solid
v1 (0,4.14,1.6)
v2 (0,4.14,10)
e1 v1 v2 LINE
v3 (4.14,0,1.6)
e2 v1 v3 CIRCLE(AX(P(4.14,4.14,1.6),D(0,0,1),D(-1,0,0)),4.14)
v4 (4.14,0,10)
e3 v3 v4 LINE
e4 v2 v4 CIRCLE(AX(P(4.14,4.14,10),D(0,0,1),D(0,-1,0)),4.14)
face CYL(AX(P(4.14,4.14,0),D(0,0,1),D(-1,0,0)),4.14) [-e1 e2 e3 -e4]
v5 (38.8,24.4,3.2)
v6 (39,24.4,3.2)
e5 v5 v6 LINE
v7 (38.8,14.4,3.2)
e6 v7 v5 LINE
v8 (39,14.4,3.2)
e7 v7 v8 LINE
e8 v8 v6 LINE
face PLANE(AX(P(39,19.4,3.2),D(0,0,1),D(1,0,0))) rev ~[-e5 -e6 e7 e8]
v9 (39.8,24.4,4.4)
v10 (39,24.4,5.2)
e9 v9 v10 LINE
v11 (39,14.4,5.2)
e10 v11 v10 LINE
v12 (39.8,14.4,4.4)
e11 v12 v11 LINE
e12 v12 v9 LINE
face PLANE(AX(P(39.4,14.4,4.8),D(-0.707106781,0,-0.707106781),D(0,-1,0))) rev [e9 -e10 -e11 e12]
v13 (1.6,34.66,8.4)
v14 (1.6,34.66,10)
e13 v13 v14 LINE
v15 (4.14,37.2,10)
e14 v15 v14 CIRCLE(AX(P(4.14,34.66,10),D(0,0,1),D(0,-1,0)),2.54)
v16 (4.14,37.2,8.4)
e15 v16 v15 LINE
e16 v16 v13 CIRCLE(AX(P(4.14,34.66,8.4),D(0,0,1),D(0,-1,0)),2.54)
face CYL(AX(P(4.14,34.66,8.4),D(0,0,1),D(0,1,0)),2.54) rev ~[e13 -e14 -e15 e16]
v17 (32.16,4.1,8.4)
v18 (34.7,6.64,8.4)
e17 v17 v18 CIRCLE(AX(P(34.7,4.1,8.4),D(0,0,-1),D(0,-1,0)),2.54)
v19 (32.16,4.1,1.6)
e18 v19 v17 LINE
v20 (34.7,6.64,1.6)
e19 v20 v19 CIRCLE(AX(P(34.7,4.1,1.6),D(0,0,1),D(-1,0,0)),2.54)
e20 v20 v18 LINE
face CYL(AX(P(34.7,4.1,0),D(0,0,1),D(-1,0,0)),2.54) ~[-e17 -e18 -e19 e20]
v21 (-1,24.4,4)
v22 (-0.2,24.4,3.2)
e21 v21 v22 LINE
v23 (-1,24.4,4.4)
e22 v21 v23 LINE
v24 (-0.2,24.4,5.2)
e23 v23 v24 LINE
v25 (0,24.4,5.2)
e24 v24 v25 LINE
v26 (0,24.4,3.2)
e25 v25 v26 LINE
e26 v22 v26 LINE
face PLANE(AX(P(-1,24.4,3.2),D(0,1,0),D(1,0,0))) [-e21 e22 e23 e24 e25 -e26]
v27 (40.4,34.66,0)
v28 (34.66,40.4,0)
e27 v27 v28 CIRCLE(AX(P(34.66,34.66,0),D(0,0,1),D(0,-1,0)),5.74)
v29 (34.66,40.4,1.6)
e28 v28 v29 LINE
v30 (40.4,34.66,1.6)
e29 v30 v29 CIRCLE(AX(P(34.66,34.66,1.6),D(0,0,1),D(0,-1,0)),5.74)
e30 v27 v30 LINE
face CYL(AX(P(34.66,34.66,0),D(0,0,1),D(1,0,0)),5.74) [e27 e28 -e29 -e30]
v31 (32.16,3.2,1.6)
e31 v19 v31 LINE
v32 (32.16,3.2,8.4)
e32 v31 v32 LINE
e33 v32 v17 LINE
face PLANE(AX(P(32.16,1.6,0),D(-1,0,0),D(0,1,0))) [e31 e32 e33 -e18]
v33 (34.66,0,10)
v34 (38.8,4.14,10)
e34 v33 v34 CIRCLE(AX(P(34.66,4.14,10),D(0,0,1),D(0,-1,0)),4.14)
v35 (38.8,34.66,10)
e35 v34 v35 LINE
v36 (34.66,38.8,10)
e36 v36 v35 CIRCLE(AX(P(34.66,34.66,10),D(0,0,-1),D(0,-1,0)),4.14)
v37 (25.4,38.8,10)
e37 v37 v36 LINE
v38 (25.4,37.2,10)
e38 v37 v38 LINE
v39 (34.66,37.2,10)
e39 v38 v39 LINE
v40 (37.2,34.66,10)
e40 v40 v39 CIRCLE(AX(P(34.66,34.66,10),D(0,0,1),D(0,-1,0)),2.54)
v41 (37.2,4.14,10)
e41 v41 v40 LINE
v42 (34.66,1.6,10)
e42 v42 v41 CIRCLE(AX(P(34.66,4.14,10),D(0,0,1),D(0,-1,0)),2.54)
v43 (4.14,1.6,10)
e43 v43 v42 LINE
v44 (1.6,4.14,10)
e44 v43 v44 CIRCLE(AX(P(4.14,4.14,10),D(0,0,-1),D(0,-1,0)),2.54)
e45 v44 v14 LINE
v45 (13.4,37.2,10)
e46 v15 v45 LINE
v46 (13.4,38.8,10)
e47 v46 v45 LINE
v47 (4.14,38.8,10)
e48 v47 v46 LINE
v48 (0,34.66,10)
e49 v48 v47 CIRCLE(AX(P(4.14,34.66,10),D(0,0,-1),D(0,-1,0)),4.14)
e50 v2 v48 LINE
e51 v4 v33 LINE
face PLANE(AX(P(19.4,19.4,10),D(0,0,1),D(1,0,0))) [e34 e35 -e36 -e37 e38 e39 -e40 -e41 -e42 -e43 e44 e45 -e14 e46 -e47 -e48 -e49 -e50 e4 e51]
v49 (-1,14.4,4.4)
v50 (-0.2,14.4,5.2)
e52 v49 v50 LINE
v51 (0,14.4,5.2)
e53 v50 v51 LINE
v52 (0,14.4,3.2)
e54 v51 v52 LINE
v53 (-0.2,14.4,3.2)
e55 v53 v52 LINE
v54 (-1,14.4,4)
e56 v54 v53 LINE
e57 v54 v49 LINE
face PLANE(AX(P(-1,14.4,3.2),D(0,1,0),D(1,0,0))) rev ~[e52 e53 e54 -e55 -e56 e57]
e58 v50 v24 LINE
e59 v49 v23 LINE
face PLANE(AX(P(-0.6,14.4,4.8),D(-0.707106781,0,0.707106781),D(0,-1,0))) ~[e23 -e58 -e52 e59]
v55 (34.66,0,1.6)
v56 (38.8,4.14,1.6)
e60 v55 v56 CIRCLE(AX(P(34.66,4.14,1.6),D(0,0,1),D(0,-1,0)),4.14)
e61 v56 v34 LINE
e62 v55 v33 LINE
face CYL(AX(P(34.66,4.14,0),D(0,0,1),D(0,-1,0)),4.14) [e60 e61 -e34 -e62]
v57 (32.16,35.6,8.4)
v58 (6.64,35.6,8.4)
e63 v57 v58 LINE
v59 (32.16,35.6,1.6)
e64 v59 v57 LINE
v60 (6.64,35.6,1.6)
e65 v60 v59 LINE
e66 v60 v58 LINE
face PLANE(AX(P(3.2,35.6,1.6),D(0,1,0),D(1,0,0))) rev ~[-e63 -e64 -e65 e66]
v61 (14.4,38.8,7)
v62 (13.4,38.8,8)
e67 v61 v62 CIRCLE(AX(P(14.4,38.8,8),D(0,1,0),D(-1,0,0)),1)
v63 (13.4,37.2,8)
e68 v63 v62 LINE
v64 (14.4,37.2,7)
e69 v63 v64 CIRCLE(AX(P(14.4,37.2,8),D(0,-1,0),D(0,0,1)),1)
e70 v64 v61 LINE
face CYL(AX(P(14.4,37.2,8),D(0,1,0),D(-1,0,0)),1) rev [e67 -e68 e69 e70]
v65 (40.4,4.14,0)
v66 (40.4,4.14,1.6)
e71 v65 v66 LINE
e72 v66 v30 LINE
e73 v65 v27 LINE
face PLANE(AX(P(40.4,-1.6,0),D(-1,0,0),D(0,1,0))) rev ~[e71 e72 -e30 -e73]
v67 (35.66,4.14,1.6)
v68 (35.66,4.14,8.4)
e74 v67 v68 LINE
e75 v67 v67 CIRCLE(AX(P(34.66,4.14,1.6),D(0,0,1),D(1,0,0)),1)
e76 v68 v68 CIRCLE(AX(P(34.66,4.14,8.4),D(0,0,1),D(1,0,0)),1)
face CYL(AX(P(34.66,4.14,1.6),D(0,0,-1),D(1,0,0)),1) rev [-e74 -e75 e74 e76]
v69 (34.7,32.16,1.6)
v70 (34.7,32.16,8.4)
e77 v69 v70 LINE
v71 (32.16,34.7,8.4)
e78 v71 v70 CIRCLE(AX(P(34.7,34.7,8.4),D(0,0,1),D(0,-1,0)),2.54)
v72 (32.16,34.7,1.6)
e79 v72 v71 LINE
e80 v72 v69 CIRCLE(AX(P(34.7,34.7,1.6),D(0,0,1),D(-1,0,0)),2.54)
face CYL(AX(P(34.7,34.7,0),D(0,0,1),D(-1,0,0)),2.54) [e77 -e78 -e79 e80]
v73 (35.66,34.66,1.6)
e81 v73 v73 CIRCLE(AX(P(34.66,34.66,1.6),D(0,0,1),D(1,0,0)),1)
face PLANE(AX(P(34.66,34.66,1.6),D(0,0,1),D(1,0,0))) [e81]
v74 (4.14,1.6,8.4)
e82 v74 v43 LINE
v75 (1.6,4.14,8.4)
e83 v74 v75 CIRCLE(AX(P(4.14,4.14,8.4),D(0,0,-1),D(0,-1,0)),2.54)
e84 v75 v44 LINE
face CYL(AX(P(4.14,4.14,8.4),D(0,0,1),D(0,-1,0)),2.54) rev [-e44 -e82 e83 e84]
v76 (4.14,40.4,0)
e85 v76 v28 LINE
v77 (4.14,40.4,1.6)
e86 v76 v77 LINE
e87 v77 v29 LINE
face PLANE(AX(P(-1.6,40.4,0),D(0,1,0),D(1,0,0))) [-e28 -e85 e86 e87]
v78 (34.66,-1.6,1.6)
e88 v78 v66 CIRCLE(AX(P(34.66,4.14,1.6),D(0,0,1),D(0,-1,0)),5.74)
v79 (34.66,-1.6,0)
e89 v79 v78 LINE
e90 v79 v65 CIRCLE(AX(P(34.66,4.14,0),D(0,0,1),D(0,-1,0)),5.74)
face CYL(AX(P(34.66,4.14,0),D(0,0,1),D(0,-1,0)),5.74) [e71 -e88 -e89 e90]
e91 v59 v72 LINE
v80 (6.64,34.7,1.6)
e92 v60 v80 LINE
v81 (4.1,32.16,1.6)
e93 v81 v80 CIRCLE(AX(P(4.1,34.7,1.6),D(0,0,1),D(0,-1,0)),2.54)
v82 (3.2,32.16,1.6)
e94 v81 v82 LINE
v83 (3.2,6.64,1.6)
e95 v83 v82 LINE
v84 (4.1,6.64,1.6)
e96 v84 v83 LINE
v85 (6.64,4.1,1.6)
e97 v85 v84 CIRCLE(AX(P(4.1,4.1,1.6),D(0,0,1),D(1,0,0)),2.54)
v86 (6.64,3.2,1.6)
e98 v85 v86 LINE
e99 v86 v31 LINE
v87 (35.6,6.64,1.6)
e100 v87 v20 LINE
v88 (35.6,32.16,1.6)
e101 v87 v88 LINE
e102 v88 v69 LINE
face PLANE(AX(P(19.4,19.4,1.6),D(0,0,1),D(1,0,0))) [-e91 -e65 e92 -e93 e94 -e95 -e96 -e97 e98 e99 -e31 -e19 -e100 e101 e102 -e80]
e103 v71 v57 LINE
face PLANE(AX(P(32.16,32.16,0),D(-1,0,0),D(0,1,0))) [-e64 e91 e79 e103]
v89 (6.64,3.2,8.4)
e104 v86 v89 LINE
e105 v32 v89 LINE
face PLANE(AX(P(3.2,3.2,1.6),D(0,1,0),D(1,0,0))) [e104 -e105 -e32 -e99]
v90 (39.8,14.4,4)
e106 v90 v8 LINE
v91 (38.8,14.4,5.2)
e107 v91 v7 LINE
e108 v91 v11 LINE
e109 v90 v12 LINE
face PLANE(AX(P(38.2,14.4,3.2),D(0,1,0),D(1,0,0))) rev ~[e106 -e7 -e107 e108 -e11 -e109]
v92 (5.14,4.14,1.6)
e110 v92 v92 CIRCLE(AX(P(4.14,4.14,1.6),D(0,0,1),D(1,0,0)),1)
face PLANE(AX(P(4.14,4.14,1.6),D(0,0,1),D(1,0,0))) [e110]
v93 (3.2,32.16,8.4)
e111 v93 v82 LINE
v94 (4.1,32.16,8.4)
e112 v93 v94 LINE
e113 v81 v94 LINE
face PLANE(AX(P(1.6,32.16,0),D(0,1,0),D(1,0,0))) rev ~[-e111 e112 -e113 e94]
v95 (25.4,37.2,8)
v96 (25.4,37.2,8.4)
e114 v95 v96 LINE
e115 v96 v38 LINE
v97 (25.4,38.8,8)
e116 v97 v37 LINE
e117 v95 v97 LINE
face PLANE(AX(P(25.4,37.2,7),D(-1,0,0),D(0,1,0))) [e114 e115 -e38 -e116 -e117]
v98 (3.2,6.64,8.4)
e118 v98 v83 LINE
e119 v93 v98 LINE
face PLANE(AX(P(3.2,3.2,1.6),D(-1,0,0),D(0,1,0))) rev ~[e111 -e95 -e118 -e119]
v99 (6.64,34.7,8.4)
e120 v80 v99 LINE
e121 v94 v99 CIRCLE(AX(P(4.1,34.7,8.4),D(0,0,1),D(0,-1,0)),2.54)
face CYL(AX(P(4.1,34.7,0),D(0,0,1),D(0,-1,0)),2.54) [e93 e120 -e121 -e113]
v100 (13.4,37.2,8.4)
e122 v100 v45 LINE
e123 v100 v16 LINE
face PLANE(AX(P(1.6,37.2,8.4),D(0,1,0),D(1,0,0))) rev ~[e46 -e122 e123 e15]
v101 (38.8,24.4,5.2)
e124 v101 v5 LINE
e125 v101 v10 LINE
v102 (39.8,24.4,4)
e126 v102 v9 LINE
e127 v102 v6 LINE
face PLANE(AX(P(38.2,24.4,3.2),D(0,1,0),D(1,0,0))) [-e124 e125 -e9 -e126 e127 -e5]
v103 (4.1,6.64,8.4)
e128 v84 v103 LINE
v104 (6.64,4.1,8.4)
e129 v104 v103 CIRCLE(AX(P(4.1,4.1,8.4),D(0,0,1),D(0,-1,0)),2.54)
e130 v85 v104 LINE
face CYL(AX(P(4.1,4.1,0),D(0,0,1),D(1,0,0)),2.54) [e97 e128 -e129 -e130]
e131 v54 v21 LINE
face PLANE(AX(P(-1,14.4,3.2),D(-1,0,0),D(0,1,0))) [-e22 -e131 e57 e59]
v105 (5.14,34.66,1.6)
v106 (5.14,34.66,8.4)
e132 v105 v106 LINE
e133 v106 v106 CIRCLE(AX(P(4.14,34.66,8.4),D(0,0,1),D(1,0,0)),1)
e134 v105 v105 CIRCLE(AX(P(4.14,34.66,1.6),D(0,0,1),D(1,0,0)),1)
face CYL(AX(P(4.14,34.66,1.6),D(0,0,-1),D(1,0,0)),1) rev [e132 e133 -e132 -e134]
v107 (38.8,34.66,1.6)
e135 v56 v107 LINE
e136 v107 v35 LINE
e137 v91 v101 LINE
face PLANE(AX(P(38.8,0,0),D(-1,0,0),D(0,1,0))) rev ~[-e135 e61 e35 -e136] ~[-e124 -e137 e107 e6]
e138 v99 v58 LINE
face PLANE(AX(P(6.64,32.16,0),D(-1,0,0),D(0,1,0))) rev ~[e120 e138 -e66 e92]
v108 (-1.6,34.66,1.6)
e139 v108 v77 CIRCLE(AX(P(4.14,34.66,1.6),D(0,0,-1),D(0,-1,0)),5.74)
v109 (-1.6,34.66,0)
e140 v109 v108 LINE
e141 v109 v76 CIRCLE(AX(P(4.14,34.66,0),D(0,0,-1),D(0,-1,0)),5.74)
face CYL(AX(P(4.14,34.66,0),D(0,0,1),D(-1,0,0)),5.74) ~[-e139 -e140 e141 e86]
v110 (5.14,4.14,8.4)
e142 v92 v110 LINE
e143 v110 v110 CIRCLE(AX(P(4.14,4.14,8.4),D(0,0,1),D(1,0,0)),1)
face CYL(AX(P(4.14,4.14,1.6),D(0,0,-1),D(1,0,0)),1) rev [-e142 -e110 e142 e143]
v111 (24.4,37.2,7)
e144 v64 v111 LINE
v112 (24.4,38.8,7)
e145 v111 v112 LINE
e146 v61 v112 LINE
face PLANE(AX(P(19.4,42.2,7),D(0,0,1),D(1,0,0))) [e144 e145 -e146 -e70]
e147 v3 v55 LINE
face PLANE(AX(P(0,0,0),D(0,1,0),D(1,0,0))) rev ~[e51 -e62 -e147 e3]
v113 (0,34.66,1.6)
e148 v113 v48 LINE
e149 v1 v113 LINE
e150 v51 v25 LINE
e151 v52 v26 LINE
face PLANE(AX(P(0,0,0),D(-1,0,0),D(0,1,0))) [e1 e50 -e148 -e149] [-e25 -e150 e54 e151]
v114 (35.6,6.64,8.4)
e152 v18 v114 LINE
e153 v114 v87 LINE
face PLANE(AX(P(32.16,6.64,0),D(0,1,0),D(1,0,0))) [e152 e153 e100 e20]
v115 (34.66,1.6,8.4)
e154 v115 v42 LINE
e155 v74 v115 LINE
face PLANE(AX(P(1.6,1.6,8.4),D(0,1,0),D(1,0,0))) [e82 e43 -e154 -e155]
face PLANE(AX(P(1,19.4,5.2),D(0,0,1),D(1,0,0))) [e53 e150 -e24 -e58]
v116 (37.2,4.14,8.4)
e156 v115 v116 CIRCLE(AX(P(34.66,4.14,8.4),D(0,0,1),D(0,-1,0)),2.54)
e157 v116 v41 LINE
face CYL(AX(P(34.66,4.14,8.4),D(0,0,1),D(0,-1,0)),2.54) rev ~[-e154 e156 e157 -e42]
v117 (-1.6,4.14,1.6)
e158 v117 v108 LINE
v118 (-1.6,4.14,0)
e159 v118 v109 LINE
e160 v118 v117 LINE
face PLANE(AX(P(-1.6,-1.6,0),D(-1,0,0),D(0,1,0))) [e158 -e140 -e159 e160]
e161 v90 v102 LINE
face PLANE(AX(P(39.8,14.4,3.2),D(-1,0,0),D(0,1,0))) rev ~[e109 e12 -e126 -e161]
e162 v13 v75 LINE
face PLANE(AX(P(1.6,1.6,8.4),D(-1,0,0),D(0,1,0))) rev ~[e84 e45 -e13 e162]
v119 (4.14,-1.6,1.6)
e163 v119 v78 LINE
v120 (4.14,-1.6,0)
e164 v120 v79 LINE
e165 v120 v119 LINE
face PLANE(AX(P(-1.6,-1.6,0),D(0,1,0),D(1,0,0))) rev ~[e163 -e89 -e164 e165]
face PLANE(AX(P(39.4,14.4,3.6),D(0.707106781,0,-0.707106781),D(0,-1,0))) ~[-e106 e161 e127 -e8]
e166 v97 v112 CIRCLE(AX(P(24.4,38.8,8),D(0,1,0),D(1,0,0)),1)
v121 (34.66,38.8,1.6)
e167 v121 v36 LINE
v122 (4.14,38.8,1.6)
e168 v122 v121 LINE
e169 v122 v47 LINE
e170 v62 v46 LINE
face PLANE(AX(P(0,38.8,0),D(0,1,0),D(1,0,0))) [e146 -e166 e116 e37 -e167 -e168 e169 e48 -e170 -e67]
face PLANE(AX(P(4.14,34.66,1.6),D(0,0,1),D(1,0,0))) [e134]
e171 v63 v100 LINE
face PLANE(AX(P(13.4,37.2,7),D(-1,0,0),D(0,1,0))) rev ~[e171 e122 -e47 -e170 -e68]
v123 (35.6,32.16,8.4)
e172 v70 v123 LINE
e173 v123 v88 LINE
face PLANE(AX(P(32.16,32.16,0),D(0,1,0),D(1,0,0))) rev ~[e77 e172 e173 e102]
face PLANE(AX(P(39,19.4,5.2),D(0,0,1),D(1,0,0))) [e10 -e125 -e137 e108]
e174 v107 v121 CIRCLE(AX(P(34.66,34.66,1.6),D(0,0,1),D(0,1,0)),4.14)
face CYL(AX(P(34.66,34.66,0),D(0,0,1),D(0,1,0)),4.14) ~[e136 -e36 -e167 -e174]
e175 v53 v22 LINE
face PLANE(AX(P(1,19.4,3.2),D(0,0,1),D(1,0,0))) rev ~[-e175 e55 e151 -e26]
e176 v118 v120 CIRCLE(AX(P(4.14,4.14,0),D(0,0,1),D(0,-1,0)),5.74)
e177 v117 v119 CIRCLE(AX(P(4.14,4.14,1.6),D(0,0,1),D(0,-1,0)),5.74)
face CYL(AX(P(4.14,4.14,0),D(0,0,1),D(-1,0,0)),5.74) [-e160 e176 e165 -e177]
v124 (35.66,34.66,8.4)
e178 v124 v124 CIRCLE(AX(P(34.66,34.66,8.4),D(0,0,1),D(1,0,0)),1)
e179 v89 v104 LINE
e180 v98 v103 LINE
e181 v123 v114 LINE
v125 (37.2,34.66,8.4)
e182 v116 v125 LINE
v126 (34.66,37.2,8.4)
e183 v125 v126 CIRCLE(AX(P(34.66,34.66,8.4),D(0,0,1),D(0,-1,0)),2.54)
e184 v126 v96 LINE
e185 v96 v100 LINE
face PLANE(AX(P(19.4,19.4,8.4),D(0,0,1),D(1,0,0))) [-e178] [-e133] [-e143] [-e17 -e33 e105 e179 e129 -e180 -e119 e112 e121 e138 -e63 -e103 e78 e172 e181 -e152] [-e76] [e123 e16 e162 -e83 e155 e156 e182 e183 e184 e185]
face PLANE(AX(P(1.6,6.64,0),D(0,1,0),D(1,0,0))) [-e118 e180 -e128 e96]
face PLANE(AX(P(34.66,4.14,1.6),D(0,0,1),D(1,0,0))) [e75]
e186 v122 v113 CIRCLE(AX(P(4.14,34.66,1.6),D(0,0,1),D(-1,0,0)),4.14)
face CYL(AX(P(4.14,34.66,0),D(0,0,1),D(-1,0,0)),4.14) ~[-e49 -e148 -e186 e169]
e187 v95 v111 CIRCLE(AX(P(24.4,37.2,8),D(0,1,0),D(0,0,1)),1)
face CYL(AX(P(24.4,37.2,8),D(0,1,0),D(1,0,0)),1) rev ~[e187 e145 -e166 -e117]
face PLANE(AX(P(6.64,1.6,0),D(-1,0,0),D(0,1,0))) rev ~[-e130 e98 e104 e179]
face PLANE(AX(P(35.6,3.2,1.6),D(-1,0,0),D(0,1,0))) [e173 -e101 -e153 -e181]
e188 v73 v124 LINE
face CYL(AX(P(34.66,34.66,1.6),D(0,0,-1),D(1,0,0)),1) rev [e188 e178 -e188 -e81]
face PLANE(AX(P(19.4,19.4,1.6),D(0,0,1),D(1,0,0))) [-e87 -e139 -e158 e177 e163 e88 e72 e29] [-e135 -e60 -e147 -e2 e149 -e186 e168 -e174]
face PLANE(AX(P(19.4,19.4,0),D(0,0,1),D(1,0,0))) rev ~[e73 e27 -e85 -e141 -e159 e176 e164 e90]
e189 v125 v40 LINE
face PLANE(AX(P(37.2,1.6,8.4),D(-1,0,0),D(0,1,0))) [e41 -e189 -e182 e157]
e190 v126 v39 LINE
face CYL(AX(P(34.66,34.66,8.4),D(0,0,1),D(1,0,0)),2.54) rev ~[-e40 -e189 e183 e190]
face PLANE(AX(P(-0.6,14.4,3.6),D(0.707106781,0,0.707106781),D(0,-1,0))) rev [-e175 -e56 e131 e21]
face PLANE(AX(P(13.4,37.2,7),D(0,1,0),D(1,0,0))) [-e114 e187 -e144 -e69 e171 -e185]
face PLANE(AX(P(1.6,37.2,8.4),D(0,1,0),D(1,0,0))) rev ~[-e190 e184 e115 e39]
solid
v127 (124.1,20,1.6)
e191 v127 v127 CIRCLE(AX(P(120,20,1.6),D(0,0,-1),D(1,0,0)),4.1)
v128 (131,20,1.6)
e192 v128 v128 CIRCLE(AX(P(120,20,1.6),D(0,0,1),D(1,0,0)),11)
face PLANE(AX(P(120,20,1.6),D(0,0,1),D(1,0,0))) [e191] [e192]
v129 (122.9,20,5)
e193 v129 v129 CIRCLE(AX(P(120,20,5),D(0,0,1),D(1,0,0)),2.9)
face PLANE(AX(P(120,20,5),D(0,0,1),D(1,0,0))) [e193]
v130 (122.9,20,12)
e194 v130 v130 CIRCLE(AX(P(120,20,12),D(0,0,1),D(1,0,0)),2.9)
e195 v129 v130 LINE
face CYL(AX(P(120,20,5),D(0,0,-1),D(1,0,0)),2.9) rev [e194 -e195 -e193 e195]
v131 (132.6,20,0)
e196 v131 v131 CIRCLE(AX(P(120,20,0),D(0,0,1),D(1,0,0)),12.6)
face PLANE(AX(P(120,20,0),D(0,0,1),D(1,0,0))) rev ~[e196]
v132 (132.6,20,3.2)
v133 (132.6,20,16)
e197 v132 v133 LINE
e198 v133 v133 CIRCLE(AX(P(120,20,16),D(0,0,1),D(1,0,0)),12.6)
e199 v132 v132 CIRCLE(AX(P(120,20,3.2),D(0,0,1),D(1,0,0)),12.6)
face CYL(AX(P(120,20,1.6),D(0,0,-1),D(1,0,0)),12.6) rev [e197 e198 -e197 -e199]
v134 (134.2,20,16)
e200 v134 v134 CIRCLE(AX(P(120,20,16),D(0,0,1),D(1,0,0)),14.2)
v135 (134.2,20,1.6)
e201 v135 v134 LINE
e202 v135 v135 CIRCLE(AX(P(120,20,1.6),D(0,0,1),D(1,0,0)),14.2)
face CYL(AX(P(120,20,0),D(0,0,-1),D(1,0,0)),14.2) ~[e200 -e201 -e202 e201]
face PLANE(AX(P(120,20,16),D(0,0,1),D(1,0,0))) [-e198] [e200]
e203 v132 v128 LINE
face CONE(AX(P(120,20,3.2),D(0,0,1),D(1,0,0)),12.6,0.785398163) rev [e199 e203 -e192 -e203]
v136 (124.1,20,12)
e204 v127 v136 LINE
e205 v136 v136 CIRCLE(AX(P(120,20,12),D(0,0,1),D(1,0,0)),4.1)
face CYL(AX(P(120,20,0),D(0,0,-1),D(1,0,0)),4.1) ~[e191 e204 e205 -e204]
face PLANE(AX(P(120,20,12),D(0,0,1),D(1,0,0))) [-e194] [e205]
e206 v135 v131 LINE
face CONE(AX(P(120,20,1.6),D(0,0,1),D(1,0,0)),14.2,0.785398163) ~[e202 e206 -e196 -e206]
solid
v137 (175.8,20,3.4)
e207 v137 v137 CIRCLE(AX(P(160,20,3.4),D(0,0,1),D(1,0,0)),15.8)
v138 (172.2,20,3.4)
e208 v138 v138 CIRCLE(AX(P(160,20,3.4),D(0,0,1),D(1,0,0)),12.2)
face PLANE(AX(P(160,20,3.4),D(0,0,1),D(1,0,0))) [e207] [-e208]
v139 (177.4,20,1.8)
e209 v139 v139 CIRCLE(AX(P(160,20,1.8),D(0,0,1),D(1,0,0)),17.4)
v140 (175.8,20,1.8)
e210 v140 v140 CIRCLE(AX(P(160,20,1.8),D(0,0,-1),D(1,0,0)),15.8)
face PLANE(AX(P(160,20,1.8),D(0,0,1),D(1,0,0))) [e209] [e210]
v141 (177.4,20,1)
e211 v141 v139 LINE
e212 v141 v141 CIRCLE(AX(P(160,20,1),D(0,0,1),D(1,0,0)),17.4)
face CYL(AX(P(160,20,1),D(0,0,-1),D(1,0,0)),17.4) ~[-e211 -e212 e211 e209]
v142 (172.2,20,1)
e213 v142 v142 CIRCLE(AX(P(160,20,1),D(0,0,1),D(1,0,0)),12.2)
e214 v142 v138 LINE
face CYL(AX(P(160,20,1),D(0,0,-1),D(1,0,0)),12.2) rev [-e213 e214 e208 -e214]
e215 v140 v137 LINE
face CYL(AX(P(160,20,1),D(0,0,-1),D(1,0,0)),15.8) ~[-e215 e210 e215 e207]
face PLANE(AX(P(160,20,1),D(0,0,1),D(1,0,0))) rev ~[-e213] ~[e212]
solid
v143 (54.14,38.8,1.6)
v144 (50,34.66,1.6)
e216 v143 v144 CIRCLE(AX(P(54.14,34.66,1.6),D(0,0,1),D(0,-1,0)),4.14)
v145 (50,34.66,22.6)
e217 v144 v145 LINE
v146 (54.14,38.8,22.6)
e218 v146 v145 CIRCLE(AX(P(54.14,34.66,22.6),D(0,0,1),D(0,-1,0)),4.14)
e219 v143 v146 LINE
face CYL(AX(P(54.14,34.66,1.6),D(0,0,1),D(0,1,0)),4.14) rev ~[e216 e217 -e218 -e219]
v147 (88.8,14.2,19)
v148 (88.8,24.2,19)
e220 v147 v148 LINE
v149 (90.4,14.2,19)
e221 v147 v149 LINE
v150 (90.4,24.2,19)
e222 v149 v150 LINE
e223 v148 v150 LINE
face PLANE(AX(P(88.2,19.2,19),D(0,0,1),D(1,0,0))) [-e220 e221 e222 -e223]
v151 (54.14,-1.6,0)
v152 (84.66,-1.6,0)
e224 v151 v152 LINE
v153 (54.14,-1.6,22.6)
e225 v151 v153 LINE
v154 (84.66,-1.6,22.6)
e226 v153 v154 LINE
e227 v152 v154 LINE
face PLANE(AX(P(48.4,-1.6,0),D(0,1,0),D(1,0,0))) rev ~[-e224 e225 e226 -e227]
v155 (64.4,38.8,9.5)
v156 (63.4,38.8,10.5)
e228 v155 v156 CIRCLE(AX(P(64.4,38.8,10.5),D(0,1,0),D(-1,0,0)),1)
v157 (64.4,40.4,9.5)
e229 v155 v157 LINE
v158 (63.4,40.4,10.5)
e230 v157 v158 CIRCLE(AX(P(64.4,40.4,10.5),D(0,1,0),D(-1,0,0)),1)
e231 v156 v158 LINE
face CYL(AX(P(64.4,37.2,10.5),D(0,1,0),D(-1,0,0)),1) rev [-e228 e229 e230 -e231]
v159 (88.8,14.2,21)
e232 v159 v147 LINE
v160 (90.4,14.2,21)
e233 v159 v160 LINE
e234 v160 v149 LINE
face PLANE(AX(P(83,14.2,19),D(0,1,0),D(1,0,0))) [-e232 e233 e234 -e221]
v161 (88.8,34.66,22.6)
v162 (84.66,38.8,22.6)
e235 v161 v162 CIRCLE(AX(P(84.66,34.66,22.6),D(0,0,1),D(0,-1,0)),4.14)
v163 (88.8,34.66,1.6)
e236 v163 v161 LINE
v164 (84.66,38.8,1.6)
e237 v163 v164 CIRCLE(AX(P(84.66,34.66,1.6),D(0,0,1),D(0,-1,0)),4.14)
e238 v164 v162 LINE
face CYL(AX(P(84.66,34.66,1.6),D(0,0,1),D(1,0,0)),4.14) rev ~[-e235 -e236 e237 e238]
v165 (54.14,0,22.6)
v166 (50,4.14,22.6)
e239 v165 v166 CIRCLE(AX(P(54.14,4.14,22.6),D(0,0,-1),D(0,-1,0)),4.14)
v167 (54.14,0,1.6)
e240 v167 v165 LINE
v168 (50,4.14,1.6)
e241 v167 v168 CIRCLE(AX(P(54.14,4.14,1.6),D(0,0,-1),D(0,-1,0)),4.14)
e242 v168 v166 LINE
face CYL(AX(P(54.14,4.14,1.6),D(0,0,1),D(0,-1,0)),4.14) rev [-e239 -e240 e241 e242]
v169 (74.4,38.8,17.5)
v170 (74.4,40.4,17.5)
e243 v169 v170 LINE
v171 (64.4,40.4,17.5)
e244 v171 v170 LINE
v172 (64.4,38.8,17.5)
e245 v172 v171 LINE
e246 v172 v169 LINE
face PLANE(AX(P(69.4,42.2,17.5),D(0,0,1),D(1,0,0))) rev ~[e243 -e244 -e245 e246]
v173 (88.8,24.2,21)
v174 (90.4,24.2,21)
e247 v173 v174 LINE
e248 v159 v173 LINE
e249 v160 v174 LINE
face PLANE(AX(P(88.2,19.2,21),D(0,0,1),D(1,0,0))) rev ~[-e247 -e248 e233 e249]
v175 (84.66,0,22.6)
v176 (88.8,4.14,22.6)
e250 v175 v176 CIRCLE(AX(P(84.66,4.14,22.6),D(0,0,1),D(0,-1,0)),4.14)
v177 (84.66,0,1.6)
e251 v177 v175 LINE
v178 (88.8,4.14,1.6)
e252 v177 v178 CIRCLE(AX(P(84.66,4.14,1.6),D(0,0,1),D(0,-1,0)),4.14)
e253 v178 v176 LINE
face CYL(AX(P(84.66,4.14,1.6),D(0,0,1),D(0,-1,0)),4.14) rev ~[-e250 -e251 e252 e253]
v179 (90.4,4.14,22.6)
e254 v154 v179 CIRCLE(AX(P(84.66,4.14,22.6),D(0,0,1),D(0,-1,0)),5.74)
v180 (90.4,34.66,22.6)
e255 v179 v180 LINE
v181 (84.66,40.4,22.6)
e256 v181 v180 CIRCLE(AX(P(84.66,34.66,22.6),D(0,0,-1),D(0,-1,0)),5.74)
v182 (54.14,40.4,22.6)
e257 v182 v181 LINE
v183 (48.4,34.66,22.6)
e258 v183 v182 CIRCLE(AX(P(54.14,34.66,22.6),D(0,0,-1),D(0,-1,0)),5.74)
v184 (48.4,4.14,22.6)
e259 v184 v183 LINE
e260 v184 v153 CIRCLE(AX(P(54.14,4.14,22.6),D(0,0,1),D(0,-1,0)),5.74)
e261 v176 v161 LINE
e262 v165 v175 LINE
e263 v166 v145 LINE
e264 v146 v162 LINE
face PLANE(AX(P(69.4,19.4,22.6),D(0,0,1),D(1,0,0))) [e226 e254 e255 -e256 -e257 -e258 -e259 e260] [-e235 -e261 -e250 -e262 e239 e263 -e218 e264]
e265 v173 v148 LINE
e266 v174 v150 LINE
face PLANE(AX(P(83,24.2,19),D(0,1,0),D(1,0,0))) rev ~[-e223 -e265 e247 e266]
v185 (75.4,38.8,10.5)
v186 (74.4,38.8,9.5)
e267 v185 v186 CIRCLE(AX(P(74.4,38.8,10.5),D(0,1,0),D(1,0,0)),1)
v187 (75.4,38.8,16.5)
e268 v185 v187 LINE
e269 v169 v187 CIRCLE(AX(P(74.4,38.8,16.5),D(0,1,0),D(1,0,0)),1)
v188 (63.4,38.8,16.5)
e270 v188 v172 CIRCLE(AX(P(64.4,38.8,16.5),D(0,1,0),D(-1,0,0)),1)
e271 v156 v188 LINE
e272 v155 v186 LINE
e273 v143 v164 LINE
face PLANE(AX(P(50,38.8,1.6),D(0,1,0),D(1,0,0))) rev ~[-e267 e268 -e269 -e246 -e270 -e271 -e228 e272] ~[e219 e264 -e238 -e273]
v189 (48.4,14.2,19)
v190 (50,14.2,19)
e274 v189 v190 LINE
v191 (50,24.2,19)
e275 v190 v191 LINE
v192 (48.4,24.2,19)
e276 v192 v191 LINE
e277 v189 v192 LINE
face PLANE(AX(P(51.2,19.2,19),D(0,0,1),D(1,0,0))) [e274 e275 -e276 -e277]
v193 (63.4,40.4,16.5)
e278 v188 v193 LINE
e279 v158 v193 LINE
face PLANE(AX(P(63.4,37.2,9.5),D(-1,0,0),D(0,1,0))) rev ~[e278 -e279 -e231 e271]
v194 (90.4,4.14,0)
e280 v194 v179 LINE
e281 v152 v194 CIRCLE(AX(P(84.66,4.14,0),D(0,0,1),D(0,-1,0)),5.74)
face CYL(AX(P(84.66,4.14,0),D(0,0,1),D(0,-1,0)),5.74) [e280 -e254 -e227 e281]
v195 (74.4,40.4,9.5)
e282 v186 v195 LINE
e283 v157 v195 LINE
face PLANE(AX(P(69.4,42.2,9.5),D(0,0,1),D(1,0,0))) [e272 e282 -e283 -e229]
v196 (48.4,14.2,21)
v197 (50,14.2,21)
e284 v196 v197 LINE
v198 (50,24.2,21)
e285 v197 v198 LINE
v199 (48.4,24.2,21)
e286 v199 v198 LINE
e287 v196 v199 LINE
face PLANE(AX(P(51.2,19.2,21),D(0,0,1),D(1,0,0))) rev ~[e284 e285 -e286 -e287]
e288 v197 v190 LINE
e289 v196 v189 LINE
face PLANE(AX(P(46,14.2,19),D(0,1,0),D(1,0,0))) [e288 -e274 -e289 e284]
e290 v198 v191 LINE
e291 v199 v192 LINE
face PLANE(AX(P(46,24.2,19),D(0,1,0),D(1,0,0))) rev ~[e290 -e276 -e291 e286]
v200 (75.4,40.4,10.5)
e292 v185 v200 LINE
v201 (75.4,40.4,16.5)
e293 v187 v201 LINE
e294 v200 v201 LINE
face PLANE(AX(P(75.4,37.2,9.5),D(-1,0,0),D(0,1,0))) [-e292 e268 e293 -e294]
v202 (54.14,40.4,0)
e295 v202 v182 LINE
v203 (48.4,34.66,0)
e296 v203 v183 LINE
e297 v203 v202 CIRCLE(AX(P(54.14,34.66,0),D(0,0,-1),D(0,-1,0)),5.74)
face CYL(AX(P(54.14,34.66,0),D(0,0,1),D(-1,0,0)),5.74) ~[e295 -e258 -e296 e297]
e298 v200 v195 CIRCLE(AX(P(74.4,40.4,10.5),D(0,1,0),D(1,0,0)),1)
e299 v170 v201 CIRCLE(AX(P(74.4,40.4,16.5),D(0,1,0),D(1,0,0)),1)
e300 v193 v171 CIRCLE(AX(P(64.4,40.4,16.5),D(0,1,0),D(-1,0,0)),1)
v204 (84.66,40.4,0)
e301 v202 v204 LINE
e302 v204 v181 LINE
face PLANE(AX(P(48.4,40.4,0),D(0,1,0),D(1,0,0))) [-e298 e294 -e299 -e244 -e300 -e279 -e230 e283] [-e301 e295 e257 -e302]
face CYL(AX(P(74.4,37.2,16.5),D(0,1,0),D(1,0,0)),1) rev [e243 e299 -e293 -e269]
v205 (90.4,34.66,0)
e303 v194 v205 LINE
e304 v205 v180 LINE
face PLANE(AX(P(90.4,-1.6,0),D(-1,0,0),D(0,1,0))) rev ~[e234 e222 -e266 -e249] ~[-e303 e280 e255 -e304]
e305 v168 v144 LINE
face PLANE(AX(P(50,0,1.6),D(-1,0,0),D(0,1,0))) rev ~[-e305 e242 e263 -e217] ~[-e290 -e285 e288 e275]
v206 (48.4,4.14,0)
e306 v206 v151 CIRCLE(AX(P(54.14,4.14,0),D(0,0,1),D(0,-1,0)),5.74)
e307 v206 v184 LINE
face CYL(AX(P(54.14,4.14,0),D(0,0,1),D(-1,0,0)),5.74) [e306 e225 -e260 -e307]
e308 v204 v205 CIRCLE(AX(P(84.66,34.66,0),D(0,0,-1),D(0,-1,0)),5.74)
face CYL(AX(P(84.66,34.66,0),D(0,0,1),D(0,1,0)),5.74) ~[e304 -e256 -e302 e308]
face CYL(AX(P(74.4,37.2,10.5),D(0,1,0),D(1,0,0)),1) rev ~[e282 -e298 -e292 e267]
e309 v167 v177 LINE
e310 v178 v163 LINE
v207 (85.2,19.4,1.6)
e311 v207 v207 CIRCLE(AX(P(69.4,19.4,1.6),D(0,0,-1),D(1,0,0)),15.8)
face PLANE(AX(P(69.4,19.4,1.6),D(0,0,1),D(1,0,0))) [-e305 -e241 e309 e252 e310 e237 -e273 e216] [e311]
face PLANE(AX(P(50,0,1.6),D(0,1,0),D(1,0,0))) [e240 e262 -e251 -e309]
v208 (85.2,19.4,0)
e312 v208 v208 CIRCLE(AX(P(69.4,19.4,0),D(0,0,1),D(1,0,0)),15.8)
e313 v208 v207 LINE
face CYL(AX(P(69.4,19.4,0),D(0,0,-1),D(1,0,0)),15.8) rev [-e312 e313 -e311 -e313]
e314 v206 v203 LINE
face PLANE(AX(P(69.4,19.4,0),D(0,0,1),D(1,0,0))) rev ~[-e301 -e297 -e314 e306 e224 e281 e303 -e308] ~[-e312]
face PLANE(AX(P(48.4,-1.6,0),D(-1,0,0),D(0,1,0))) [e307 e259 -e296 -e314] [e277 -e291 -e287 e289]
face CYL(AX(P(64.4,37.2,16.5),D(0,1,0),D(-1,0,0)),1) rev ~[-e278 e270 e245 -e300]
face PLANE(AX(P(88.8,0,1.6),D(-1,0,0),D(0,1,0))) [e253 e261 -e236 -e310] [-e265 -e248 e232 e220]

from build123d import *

# Parameters (mm, degrees)
BOX008_W          = 12
BOX008_H          = 10
BOX008_DEPTH      = 8
FILLET007_R       = 1
BOX007_W          = 42
BOX007_H          = 42
BOX007_DEPTH      = 1.6
FILLET006_R       = 5.74
BOX010_W          = 4
BOX010_H          = 10
BOX010_DEPTH      = 2
CHAMFER_SIZE      = 0.8
BOX011_W          = 1.6
BOX011_H          = 10
BOX011_DEPTH      = 2
CHAMFER001_SIZE   = 0.8
CYLINDER001_R     = 1
CYLINDER001_DEPTH = 6.8
CYLINDER002_R     = 1
CYLINDER002_DEPTH = 6.8
CYLINDER003_R     = 1
CYLINDER003_DEPTH = 6.8
CYLINDER_R        = 1
CYLINDER_DEPTH    = 6.8
BOX004_W          = 5.04
BOX004_H          = 5.04
BOX004_DEPTH      = 8.4
FILLET005_R       = 2.54
BOX005_W          = 5.04
BOX005_H          = 5.04
BOX005_DEPTH      = 8.4
FILLET003_R       = 2.54
BOX006_W          = 5.04
BOX006_H          = 5.04
BOX006_DEPTH      = 8.4
FILLET004_R       = 2.54
BOX003_W          = 5.04
BOX003_H          = 5.04
BOX003_DEPTH      = 8.4
FILLET002_R       = 2.54
BOX002_W          = 32.4
BOX002_H          = 32.4
BOX002_DEPTH      = 8.4
BOX001_W          = 35.6
BOX001_H          = 35.6
BOX001_DEPTH      = 1.6
BOX_W             = 38.8
BOX_H             = 38.8
BOX_DEPTH         = 10
FILLET_R          = 2.54
FILLET001_R       = 4.14
CYLINDER011_R     = 12.2
CYLINDER011_DEPTH = 2.4
CYLINDER010_R     = 15.8
CYLINDER010_DEPTH = 2.4
CYLINDER009_R     = 17.4
CYLINDER009_DEPTH = 0.8
CYLINDER008_R     = 2.9
CYLINDER008_DEPTH = 7
CYLINDER007_R     = 4.1
CYLINDER007_DEPTH = 12
CYLINDER006_R     = 12.6
CYLINDER006_DEPTH = 14.4
CYLINDER005_R     = 14.2
CYLINDER005_DEPTH = 16
CHAMFER002_SIZE   = 1.6
CHAMFER003_SIZE   = 1.6
CYLINDER004_R     = 15.8
CYLINDER004_DEPTH = 10
BOX014_W          = 10.4
BOX014_H          = 10
BOX014_DEPTH      = 2
BOX015_W          = 10.4
BOX015_H          = 10
BOX015_DEPTH      = 2
BOX009_W          = 12
BOX009_H          = 10
BOX009_DEPTH      = 8
FILLET008_R       = 1
BOX013_W          = 38.8
BOX013_H          = 38.8
BOX013_DEPTH      = 21
BOX012_W          = 42
BOX012_H          = 42
BOX012_DEPTH      = 22.6
FILLET009_R       = 4.14
FILLET010_R       = 5.74


with BuildPart() as usb:
    # Box008 → Box008 (new body)
    with BuildSketch(Plane(origin=(13.4, 37.2, 7), x_dir=(1, 0, 0), z_dir=(0, 0, 1))):
        with Locations((6, 5)):
            Rectangle(BOX008_W, BOX008_H)
    extrude(amount=BOX008_DEPTH)

    # Fillet007
    fillet007_edges = [usb.edges().sort_by_distance(p)[0] for p in [
        (13.4, 42.2, 15),
        (13.4, 42.2, 7),
        (25.4, 42.2, 15),
        (25.4, 42.2, 7),
    ]]
    fillet(fillet007_edges, radius=FILLET007_R)


with BuildPart() as bodenplatte_gerundet:
    # Box007 → Box007 (new body)
    with BuildSketch(Plane(origin=(-1.6, -1.6, 0), x_dir=(1, 0, 0), z_dir=(0, 0, 1))):
        with Locations((21, 21)):
            Rectangle(BOX007_W, BOX007_H)
    extrude(amount=BOX007_DEPTH)

    # Fillet006
    fillet006_edges = [bodenplatte_gerundet.edges().sort_by_distance(p)[0] for p in [
        (-1.6, -1.6, 0.8),
        (-1.6, 40.4, 0.8),
        (40.4, -1.6, 0.8),
        (40.4, 40.4, 0.8),
    ]]
    fillet(fillet006_edges, radius=FILLET006_R)


with BuildPart() as haken1:
    # Box010 → Box010 (new body)
    with BuildSketch(Plane(origin=(-1, 14.4, 3.2), x_dir=(1, 0, 0), z_dir=(0, 0, 1))):
        with Locations((2, 5)):
            Rectangle(BOX010_W, BOX010_H)
    extrude(amount=BOX010_DEPTH)

    # Chamfer
    chamfer_edges = [haken1.edges().sort_by_distance(p)[0] for p in [
        (-1, 19.4, 5.2),
        (-1, 19.4, 3.2),
    ]]
    chamfer(chamfer_edges, length=CHAMFER_SIZE)


with BuildPart() as haken2:
    # Box011 → Box011 (new body)
    with BuildSketch(Plane(origin=(38.2, 14.4, 3.2), x_dir=(1, 0, 0), z_dir=(0, 0, 1))):
        with Locations((0.8, 5)):
            Rectangle(BOX011_W, BOX011_H)
    extrude(amount=BOX011_DEPTH)

    # Chamfer001
    chamfer001_edges = [haken2.edges().sort_by_distance(p)[0] for p in [
        (39.8, 19.4, 5.2),
        (39.8, 19.4, 3.2),
    ]]
    chamfer(chamfer001_edges, length=CHAMFER001_SIZE)


with BuildPart() as cylinder001:
    # Cylinder001 → Cylinder001 (new body)
    with BuildSketch(Plane(origin=(34.66, 4.14, 1.6), x_dir=(1, 0, 0), z_dir=(0, 0, 1))):
        Circle(CYLINDER001_R)
    extrude(amount=CYLINDER001_DEPTH)


with BuildPart() as cylinder002:
    # Cylinder002 → Cylinder002 (new body)
    with BuildSketch(Plane(origin=(4.14, 34.66, 1.6), x_dir=(1, 0, 0), z_dir=(0, 0, 1))):
        Circle(CYLINDER002_R)
    extrude(amount=CYLINDER002_DEPTH)


with BuildPart() as cylinder003:
    # Cylinder003 → Cylinder003 (new body)
    with BuildSketch(Plane(origin=(34.66, 34.66, 1.6), x_dir=(1, 0, 0), z_dir=(0, 0, 1))):
        Circle(CYLINDER003_R)
    extrude(amount=CYLINDER003_DEPTH)


with BuildPart() as schraubl_cher:
    # Cylinder → Cylinder (new body)
    with BuildSketch(Plane(origin=(4.14, 4.14, 1.6), x_dir=(1, 0, 0), z_dir=(0, 0, 1))):
        Circle(CYLINDER_R)
    extrude(amount=CYLINDER_DEPTH)

    # Fusion002: union Cylinder001, Cylinder002, Cylinder003
    add(cylinder001.part)
    add(cylinder002.part)
    add(cylinder003.part)


with BuildPart() as pfosten_2_abgerundet:
    # Box004 → Box004 (new body)
    with BuildSketch(Plane(origin=(32.16, 1.6, 0), x_dir=(1, 0, 0), z_dir=(0, 0, 1))):
        with Locations((2.52, 2.52)):
            Rectangle(BOX004_W, BOX004_H)
    extrude(amount=BOX004_DEPTH)

    # Fillet005
    fillet005_edges = [pfosten_2_abgerundet.edges().sort_by_distance(p)[0] for p in [
        (32.16, 6.64, 4.2),
    ]]
    fillet(fillet005_edges, radius=FILLET005_R)


with BuildPart() as pfosten_3_abgerundet:
    # Box005 → Box005 (new body)
    with BuildSketch(Plane(origin=(1.6, 32.16, 0), x_dir=(1, 0, 0), z_dir=(0, 0, 1))):
        with Locations((2.52, 2.52)):
            Rectangle(BOX005_W, BOX005_H)
    extrude(amount=BOX005_DEPTH)

    # Fillet003
    fillet003_edges = [pfosten_3_abgerundet.edges().sort_by_distance(p)[0] for p in [
        (6.64, 32.16, 4.2),
    ]]
    fillet(fillet003_edges, radius=FILLET003_R)


with BuildPart() as pfosten_4_abgerundet:
    # Box006 → Box006 (new body)
    with BuildSketch(Plane(origin=(32.16, 32.16, 0), x_dir=(1, 0, 0), z_dir=(0, 0, 1))):
        with Locations((2.52, 2.52)):
            Rectangle(BOX006_W, BOX006_H)
    extrude(amount=BOX006_DEPTH)

    # Fillet004
    fillet004_edges = [pfosten_4_abgerundet.edges().sort_by_distance(p)[0] for p in [
        (32.16, 32.16, 4.2),
    ]]
    fillet(fillet004_edges, radius=FILLET004_R)


with BuildPart() as pfosten:
    # Box003 → Box003 (new body)
    with BuildSketch(Plane(origin=(1.6, 1.6, 0), x_dir=(1, 0, 0), z_dir=(0, 0, 1))):
        with Locations((2.52, 2.52)):
            Rectangle(BOX003_W, BOX003_H)
    extrude(amount=BOX003_DEPTH)

    # Fillet002
    fillet002_edges = [pfosten.edges().sort_by_distance(p)[0] for p in [
        (6.64, 6.64, 4.2),
    ]]
    fillet(fillet002_edges, radius=FILLET002_R)

    # Fusion: union Pfosten_2_abgerundet, Pfosten_3_abgerundet, Pfosten_4_abgerundet
    add(pfosten_2_abgerundet.part)
    add(pfosten_3_abgerundet.part)
    add(pfosten_4_abgerundet.part)


with BuildPart() as boden_innen:
    # Box002 → Box002 (new body)
    with BuildSketch(Plane(origin=(3.2, 3.2, 1.6), x_dir=(1, 0, 0), z_dir=(0, 0, 1))):
        with Locations((16.2, 16.2)):
            Rectangle(BOX002_W, BOX002_H)
    extrude(amount=BOX002_DEPTH)


with BuildPart() as boden_auflage:
    # Box001 → Box001 (new body)
    with BuildSketch(Plane(origin=(1.6, 1.6, 8.4), x_dir=(1, 0, 0), z_dir=(0, 0, 1))):
        with Locations((17.8, 17.8)):
            Rectangle(BOX001_W, BOX001_H)
    extrude(amount=BOX001_DEPTH)


with BuildPart() as boden:
    # Box → Box (new body)
    with BuildSketch(Plane.XY):
        with Locations((19.4, 19.4)):
            Rectangle(BOX_W, BOX_H)
    extrude(amount=BOX_DEPTH)

    # Cut: cut Boden_auflage
    add(boden_auflage.part, mode=Mode.SUBTRACT)

    # Cut001: cut Boden_innen
    add(boden_innen.part, mode=Mode.SUBTRACT)

    # Fillet
    fillet_edges = [boden.edges().sort_by_distance(p)[0] for p in [
        (37.2, 1.6, 9.2),
        (37.2, 37.2, 9.2),
        (1.6, 37.2, 9.2),
        (1.6, 1.6, 9.2),
    ]]
    fillet(fillet_edges, radius=FILLET_R)

    # Fillet001
    fillet001_edges = [boden.edges().sort_by_distance(p)[0] for p in [
        (0, 0, 5),
        (0, 38.8, 5),
        (38.8, 38.8, 5),
        (38.8, 0, 5),
    ]]
    fillet(fillet001_edges, radius=FILLET001_R)

    # Fusion001: union Pfosten
    add(pfosten.part)

    # Cut002: cut Schraublöcher
    add(schraubl_cher.part, mode=Mode.SUBTRACT)

    # Fusion003: union Bodenplatte_gerundet, Haken1, Haken2
    add(bodenplatte_gerundet.part)
    add(haken1.part)
    add(haken2.part)

    # Cut003: cut USB
    add(usb.part, mode=Mode.SUBTRACT)


with BuildPart() as led_ring_hole:
    # Cylinder011 → Cylinder011 (new body)
    with BuildSketch(Plane(origin=(160, 20, 1), x_dir=(1, 0, 0), z_dir=(0, 0, 1))):
        Circle(CYLINDER011_R)
    extrude(amount=CYLINDER011_DEPTH)


with BuildPart() as led_ring_small:
    # Cylinder010 → Cylinder010 (new body)
    with BuildSketch(Plane(origin=(160, 20, 1), x_dir=(1, 0, 0), z_dir=(0, 0, 1))):
        Circle(CYLINDER010_R)
    extrude(amount=CYLINDER010_DEPTH)


with BuildPart() as led_ring:
    # Cylinder009 → Cylinder009 (new body)
    with BuildSketch(Plane(origin=(160, 20, 1), x_dir=(1, 0, 0), z_dir=(0, 0, 1))):
        Circle(CYLINDER009_R)
    extrude(amount=CYLINDER009_DEPTH)

    # Fusion006: union LED_ring_small
    add(led_ring_small.part)

    # Cut008: cut LED_ring_hole
    add(led_ring_hole.part, mode=Mode.SUBTRACT)


with BuildPart() as shaft_innen:
    # Cylinder008 → Cylinder008 (new body)
    with BuildSketch(Plane(origin=(120, 20, 5), x_dir=(1, 0, 0), z_dir=(0, 0, 1))):
        Circle(CYLINDER008_R)
    extrude(amount=CYLINDER008_DEPTH)


with BuildPart() as shaft:
    # Cylinder007 → Cylinder007 (new body)
    with BuildSketch(Plane(origin=(120, 20, 0), x_dir=(1, 0, 0), z_dir=(0, 0, 1))):
        Circle(CYLINDER007_R)
    extrude(amount=CYLINDER007_DEPTH)

    # Cut007: cut shaft_innen
    add(shaft_innen.part, mode=Mode.SUBTRACT)


with BuildPart() as grund_innen:
    # Cylinder006 → Cylinder006 (new body)
    with BuildSketch(Plane(origin=(120, 20, 1.6), x_dir=(1, 0, 0), z_dir=(0, 0, 1))):
        Circle(CYLINDER006_R)
    extrude(amount=CYLINDER006_DEPTH)


with BuildPart() as knob:
    # Cylinder005 → Cylinder005 (new body)
    with BuildSketch(Plane(origin=(120, 20, 0), x_dir=(1, 0, 0), z_dir=(0, 0, 1))):
        Circle(CYLINDER005_R)
    extrude(amount=CYLINDER005_DEPTH)

    # Cut006: cut grund_innen
    add(grund_innen.part, mode=Mode.SUBTRACT)

    # Chamfer002
    chamfer002_edges = [knob.edges().sort_by_distance(p)[0] for p in [
        (107.4, 20, 1.6),
    ]]
    chamfer(chamfer002_edges, length=CHAMFER002_SIZE)

    # Chamfer003
    chamfer003_edges = [knob.edges().sort_by_distance(p)[0] for p in [
        (105.8, 20, 0),
    ]]
    chamfer(chamfer003_edges, length=CHAMFER003_SIZE)

    # Fusion005: union Shaft
    add(shaft.part)


with BuildPart() as encoder_loch:
    # Cylinder004 → Cylinder004 (new body)
    with BuildSketch(Plane(origin=(69.4, 19.4, 0), x_dir=(1, 0, 0), z_dir=(0, 0, 1))):
        Circle(CYLINDER004_R)
    extrude(amount=CYLINDER004_DEPTH)


with BuildPart() as oese1:
    # Box014 → Box014 (new body)
    with BuildSketch(Plane(origin=(46, 14.2, 19), x_dir=(1, 0, 0), z_dir=(0, 0, 1))):
        with Locations((5.2, 5)):
            Rectangle(BOX014_W, BOX014_H)
    extrude(amount=BOX014_DEPTH)


with BuildPart() as oese2:
    # Box015 → Box015 (new body)
    with BuildSketch(Plane(origin=(83, 14.2, 19), x_dir=(1, 0, 0), z_dir=(0, 0, 1))):
        with Locations((5.2, 5)):
            Rectangle(BOX015_W, BOX015_H)
    extrude(amount=BOX015_DEPTH)


with BuildPart() as deckel_aussparungen:
    # Box009 → Box009 (new body)
    with BuildSketch(Plane(origin=(13.4, 37.2, 7), x_dir=(1, 0, 0), z_dir=(0, 0, 1))):
        with Locations((6, 5)):
            Rectangle(BOX009_W, BOX009_H)
    extrude(amount=BOX009_DEPTH)

    # Fillet008
    fillet008_edges = [deckel_aussparungen.edges().sort_by_distance(p)[0] for p in [
        (13.4, 42.2, 15),
        (13.4, 42.2, 7),
        (25.4, 42.2, 15),
        (25.4, 42.2, 7),
    ]]
    fillet(fillet008_edges, radius=FILLET008_R)


with BuildPart() as deckel_aussparungen_1:
    # Fillet008 placement: moved
    add(deckel_aussparungen.part.moved(Location((50, 0, 2.5))))

    # Fusion004: union Encoder_loch, Oese1, Oese2
    add(encoder_loch.part)
    add(oese1.part)
    add(oese2.part)


with BuildPart() as oben_innen:
    # Box013 → Box013 (new body)
    with BuildSketch(Plane(origin=(50, 0, 1.6), x_dir=(1, 0, 0), z_dir=(0, 0, 1))):
        with Locations((19.4, 19.4)):
            Rectangle(BOX013_W, BOX013_H)
    extrude(amount=BOX013_DEPTH)


with BuildPart() as deckel:
    # Box012 → Box012 (new body)
    with BuildSketch(Plane(origin=(48.4, -1.6, 0), x_dir=(1, 0, 0), z_dir=(0, 0, 1))):
        with Locations((21, 21)):
            Rectangle(BOX012_W, BOX012_H)
    extrude(amount=BOX012_DEPTH)

    # Cut009: cut oben_innen
    add(oben_innen.part, mode=Mode.SUBTRACT)

    # Fillet009
    fillet009_edges = [deckel.edges().sort_by_distance(p)[0] for p in [
        (50, 0, 12.1),
        (50, 38.8, 12.1),
        (88.8, 0, 12.1),
        (88.8, 38.8, 12.1),
    ]]
    fillet(fillet009_edges, radius=FILLET009_R)

    # Fillet010
    fillet010_edges = [deckel.edges().sort_by_distance(p)[0] for p in [
        (48.4, -1.6, 11.3),
        (48.4, 40.4, 11.3),
        (90.4, 40.4, 11.3),
        (90.4, -1.6, 11.3),
    ]]
    fillet(fillet010_edges, radius=FILLET010_R)

    # Cut010: cut Deckel_aussparungen
    add(deckel_aussparungen_1.part, mode=Mode.SUBTRACT)


solid = Compound([boden.part, led_ring.part, knob.part, deckel.part])
